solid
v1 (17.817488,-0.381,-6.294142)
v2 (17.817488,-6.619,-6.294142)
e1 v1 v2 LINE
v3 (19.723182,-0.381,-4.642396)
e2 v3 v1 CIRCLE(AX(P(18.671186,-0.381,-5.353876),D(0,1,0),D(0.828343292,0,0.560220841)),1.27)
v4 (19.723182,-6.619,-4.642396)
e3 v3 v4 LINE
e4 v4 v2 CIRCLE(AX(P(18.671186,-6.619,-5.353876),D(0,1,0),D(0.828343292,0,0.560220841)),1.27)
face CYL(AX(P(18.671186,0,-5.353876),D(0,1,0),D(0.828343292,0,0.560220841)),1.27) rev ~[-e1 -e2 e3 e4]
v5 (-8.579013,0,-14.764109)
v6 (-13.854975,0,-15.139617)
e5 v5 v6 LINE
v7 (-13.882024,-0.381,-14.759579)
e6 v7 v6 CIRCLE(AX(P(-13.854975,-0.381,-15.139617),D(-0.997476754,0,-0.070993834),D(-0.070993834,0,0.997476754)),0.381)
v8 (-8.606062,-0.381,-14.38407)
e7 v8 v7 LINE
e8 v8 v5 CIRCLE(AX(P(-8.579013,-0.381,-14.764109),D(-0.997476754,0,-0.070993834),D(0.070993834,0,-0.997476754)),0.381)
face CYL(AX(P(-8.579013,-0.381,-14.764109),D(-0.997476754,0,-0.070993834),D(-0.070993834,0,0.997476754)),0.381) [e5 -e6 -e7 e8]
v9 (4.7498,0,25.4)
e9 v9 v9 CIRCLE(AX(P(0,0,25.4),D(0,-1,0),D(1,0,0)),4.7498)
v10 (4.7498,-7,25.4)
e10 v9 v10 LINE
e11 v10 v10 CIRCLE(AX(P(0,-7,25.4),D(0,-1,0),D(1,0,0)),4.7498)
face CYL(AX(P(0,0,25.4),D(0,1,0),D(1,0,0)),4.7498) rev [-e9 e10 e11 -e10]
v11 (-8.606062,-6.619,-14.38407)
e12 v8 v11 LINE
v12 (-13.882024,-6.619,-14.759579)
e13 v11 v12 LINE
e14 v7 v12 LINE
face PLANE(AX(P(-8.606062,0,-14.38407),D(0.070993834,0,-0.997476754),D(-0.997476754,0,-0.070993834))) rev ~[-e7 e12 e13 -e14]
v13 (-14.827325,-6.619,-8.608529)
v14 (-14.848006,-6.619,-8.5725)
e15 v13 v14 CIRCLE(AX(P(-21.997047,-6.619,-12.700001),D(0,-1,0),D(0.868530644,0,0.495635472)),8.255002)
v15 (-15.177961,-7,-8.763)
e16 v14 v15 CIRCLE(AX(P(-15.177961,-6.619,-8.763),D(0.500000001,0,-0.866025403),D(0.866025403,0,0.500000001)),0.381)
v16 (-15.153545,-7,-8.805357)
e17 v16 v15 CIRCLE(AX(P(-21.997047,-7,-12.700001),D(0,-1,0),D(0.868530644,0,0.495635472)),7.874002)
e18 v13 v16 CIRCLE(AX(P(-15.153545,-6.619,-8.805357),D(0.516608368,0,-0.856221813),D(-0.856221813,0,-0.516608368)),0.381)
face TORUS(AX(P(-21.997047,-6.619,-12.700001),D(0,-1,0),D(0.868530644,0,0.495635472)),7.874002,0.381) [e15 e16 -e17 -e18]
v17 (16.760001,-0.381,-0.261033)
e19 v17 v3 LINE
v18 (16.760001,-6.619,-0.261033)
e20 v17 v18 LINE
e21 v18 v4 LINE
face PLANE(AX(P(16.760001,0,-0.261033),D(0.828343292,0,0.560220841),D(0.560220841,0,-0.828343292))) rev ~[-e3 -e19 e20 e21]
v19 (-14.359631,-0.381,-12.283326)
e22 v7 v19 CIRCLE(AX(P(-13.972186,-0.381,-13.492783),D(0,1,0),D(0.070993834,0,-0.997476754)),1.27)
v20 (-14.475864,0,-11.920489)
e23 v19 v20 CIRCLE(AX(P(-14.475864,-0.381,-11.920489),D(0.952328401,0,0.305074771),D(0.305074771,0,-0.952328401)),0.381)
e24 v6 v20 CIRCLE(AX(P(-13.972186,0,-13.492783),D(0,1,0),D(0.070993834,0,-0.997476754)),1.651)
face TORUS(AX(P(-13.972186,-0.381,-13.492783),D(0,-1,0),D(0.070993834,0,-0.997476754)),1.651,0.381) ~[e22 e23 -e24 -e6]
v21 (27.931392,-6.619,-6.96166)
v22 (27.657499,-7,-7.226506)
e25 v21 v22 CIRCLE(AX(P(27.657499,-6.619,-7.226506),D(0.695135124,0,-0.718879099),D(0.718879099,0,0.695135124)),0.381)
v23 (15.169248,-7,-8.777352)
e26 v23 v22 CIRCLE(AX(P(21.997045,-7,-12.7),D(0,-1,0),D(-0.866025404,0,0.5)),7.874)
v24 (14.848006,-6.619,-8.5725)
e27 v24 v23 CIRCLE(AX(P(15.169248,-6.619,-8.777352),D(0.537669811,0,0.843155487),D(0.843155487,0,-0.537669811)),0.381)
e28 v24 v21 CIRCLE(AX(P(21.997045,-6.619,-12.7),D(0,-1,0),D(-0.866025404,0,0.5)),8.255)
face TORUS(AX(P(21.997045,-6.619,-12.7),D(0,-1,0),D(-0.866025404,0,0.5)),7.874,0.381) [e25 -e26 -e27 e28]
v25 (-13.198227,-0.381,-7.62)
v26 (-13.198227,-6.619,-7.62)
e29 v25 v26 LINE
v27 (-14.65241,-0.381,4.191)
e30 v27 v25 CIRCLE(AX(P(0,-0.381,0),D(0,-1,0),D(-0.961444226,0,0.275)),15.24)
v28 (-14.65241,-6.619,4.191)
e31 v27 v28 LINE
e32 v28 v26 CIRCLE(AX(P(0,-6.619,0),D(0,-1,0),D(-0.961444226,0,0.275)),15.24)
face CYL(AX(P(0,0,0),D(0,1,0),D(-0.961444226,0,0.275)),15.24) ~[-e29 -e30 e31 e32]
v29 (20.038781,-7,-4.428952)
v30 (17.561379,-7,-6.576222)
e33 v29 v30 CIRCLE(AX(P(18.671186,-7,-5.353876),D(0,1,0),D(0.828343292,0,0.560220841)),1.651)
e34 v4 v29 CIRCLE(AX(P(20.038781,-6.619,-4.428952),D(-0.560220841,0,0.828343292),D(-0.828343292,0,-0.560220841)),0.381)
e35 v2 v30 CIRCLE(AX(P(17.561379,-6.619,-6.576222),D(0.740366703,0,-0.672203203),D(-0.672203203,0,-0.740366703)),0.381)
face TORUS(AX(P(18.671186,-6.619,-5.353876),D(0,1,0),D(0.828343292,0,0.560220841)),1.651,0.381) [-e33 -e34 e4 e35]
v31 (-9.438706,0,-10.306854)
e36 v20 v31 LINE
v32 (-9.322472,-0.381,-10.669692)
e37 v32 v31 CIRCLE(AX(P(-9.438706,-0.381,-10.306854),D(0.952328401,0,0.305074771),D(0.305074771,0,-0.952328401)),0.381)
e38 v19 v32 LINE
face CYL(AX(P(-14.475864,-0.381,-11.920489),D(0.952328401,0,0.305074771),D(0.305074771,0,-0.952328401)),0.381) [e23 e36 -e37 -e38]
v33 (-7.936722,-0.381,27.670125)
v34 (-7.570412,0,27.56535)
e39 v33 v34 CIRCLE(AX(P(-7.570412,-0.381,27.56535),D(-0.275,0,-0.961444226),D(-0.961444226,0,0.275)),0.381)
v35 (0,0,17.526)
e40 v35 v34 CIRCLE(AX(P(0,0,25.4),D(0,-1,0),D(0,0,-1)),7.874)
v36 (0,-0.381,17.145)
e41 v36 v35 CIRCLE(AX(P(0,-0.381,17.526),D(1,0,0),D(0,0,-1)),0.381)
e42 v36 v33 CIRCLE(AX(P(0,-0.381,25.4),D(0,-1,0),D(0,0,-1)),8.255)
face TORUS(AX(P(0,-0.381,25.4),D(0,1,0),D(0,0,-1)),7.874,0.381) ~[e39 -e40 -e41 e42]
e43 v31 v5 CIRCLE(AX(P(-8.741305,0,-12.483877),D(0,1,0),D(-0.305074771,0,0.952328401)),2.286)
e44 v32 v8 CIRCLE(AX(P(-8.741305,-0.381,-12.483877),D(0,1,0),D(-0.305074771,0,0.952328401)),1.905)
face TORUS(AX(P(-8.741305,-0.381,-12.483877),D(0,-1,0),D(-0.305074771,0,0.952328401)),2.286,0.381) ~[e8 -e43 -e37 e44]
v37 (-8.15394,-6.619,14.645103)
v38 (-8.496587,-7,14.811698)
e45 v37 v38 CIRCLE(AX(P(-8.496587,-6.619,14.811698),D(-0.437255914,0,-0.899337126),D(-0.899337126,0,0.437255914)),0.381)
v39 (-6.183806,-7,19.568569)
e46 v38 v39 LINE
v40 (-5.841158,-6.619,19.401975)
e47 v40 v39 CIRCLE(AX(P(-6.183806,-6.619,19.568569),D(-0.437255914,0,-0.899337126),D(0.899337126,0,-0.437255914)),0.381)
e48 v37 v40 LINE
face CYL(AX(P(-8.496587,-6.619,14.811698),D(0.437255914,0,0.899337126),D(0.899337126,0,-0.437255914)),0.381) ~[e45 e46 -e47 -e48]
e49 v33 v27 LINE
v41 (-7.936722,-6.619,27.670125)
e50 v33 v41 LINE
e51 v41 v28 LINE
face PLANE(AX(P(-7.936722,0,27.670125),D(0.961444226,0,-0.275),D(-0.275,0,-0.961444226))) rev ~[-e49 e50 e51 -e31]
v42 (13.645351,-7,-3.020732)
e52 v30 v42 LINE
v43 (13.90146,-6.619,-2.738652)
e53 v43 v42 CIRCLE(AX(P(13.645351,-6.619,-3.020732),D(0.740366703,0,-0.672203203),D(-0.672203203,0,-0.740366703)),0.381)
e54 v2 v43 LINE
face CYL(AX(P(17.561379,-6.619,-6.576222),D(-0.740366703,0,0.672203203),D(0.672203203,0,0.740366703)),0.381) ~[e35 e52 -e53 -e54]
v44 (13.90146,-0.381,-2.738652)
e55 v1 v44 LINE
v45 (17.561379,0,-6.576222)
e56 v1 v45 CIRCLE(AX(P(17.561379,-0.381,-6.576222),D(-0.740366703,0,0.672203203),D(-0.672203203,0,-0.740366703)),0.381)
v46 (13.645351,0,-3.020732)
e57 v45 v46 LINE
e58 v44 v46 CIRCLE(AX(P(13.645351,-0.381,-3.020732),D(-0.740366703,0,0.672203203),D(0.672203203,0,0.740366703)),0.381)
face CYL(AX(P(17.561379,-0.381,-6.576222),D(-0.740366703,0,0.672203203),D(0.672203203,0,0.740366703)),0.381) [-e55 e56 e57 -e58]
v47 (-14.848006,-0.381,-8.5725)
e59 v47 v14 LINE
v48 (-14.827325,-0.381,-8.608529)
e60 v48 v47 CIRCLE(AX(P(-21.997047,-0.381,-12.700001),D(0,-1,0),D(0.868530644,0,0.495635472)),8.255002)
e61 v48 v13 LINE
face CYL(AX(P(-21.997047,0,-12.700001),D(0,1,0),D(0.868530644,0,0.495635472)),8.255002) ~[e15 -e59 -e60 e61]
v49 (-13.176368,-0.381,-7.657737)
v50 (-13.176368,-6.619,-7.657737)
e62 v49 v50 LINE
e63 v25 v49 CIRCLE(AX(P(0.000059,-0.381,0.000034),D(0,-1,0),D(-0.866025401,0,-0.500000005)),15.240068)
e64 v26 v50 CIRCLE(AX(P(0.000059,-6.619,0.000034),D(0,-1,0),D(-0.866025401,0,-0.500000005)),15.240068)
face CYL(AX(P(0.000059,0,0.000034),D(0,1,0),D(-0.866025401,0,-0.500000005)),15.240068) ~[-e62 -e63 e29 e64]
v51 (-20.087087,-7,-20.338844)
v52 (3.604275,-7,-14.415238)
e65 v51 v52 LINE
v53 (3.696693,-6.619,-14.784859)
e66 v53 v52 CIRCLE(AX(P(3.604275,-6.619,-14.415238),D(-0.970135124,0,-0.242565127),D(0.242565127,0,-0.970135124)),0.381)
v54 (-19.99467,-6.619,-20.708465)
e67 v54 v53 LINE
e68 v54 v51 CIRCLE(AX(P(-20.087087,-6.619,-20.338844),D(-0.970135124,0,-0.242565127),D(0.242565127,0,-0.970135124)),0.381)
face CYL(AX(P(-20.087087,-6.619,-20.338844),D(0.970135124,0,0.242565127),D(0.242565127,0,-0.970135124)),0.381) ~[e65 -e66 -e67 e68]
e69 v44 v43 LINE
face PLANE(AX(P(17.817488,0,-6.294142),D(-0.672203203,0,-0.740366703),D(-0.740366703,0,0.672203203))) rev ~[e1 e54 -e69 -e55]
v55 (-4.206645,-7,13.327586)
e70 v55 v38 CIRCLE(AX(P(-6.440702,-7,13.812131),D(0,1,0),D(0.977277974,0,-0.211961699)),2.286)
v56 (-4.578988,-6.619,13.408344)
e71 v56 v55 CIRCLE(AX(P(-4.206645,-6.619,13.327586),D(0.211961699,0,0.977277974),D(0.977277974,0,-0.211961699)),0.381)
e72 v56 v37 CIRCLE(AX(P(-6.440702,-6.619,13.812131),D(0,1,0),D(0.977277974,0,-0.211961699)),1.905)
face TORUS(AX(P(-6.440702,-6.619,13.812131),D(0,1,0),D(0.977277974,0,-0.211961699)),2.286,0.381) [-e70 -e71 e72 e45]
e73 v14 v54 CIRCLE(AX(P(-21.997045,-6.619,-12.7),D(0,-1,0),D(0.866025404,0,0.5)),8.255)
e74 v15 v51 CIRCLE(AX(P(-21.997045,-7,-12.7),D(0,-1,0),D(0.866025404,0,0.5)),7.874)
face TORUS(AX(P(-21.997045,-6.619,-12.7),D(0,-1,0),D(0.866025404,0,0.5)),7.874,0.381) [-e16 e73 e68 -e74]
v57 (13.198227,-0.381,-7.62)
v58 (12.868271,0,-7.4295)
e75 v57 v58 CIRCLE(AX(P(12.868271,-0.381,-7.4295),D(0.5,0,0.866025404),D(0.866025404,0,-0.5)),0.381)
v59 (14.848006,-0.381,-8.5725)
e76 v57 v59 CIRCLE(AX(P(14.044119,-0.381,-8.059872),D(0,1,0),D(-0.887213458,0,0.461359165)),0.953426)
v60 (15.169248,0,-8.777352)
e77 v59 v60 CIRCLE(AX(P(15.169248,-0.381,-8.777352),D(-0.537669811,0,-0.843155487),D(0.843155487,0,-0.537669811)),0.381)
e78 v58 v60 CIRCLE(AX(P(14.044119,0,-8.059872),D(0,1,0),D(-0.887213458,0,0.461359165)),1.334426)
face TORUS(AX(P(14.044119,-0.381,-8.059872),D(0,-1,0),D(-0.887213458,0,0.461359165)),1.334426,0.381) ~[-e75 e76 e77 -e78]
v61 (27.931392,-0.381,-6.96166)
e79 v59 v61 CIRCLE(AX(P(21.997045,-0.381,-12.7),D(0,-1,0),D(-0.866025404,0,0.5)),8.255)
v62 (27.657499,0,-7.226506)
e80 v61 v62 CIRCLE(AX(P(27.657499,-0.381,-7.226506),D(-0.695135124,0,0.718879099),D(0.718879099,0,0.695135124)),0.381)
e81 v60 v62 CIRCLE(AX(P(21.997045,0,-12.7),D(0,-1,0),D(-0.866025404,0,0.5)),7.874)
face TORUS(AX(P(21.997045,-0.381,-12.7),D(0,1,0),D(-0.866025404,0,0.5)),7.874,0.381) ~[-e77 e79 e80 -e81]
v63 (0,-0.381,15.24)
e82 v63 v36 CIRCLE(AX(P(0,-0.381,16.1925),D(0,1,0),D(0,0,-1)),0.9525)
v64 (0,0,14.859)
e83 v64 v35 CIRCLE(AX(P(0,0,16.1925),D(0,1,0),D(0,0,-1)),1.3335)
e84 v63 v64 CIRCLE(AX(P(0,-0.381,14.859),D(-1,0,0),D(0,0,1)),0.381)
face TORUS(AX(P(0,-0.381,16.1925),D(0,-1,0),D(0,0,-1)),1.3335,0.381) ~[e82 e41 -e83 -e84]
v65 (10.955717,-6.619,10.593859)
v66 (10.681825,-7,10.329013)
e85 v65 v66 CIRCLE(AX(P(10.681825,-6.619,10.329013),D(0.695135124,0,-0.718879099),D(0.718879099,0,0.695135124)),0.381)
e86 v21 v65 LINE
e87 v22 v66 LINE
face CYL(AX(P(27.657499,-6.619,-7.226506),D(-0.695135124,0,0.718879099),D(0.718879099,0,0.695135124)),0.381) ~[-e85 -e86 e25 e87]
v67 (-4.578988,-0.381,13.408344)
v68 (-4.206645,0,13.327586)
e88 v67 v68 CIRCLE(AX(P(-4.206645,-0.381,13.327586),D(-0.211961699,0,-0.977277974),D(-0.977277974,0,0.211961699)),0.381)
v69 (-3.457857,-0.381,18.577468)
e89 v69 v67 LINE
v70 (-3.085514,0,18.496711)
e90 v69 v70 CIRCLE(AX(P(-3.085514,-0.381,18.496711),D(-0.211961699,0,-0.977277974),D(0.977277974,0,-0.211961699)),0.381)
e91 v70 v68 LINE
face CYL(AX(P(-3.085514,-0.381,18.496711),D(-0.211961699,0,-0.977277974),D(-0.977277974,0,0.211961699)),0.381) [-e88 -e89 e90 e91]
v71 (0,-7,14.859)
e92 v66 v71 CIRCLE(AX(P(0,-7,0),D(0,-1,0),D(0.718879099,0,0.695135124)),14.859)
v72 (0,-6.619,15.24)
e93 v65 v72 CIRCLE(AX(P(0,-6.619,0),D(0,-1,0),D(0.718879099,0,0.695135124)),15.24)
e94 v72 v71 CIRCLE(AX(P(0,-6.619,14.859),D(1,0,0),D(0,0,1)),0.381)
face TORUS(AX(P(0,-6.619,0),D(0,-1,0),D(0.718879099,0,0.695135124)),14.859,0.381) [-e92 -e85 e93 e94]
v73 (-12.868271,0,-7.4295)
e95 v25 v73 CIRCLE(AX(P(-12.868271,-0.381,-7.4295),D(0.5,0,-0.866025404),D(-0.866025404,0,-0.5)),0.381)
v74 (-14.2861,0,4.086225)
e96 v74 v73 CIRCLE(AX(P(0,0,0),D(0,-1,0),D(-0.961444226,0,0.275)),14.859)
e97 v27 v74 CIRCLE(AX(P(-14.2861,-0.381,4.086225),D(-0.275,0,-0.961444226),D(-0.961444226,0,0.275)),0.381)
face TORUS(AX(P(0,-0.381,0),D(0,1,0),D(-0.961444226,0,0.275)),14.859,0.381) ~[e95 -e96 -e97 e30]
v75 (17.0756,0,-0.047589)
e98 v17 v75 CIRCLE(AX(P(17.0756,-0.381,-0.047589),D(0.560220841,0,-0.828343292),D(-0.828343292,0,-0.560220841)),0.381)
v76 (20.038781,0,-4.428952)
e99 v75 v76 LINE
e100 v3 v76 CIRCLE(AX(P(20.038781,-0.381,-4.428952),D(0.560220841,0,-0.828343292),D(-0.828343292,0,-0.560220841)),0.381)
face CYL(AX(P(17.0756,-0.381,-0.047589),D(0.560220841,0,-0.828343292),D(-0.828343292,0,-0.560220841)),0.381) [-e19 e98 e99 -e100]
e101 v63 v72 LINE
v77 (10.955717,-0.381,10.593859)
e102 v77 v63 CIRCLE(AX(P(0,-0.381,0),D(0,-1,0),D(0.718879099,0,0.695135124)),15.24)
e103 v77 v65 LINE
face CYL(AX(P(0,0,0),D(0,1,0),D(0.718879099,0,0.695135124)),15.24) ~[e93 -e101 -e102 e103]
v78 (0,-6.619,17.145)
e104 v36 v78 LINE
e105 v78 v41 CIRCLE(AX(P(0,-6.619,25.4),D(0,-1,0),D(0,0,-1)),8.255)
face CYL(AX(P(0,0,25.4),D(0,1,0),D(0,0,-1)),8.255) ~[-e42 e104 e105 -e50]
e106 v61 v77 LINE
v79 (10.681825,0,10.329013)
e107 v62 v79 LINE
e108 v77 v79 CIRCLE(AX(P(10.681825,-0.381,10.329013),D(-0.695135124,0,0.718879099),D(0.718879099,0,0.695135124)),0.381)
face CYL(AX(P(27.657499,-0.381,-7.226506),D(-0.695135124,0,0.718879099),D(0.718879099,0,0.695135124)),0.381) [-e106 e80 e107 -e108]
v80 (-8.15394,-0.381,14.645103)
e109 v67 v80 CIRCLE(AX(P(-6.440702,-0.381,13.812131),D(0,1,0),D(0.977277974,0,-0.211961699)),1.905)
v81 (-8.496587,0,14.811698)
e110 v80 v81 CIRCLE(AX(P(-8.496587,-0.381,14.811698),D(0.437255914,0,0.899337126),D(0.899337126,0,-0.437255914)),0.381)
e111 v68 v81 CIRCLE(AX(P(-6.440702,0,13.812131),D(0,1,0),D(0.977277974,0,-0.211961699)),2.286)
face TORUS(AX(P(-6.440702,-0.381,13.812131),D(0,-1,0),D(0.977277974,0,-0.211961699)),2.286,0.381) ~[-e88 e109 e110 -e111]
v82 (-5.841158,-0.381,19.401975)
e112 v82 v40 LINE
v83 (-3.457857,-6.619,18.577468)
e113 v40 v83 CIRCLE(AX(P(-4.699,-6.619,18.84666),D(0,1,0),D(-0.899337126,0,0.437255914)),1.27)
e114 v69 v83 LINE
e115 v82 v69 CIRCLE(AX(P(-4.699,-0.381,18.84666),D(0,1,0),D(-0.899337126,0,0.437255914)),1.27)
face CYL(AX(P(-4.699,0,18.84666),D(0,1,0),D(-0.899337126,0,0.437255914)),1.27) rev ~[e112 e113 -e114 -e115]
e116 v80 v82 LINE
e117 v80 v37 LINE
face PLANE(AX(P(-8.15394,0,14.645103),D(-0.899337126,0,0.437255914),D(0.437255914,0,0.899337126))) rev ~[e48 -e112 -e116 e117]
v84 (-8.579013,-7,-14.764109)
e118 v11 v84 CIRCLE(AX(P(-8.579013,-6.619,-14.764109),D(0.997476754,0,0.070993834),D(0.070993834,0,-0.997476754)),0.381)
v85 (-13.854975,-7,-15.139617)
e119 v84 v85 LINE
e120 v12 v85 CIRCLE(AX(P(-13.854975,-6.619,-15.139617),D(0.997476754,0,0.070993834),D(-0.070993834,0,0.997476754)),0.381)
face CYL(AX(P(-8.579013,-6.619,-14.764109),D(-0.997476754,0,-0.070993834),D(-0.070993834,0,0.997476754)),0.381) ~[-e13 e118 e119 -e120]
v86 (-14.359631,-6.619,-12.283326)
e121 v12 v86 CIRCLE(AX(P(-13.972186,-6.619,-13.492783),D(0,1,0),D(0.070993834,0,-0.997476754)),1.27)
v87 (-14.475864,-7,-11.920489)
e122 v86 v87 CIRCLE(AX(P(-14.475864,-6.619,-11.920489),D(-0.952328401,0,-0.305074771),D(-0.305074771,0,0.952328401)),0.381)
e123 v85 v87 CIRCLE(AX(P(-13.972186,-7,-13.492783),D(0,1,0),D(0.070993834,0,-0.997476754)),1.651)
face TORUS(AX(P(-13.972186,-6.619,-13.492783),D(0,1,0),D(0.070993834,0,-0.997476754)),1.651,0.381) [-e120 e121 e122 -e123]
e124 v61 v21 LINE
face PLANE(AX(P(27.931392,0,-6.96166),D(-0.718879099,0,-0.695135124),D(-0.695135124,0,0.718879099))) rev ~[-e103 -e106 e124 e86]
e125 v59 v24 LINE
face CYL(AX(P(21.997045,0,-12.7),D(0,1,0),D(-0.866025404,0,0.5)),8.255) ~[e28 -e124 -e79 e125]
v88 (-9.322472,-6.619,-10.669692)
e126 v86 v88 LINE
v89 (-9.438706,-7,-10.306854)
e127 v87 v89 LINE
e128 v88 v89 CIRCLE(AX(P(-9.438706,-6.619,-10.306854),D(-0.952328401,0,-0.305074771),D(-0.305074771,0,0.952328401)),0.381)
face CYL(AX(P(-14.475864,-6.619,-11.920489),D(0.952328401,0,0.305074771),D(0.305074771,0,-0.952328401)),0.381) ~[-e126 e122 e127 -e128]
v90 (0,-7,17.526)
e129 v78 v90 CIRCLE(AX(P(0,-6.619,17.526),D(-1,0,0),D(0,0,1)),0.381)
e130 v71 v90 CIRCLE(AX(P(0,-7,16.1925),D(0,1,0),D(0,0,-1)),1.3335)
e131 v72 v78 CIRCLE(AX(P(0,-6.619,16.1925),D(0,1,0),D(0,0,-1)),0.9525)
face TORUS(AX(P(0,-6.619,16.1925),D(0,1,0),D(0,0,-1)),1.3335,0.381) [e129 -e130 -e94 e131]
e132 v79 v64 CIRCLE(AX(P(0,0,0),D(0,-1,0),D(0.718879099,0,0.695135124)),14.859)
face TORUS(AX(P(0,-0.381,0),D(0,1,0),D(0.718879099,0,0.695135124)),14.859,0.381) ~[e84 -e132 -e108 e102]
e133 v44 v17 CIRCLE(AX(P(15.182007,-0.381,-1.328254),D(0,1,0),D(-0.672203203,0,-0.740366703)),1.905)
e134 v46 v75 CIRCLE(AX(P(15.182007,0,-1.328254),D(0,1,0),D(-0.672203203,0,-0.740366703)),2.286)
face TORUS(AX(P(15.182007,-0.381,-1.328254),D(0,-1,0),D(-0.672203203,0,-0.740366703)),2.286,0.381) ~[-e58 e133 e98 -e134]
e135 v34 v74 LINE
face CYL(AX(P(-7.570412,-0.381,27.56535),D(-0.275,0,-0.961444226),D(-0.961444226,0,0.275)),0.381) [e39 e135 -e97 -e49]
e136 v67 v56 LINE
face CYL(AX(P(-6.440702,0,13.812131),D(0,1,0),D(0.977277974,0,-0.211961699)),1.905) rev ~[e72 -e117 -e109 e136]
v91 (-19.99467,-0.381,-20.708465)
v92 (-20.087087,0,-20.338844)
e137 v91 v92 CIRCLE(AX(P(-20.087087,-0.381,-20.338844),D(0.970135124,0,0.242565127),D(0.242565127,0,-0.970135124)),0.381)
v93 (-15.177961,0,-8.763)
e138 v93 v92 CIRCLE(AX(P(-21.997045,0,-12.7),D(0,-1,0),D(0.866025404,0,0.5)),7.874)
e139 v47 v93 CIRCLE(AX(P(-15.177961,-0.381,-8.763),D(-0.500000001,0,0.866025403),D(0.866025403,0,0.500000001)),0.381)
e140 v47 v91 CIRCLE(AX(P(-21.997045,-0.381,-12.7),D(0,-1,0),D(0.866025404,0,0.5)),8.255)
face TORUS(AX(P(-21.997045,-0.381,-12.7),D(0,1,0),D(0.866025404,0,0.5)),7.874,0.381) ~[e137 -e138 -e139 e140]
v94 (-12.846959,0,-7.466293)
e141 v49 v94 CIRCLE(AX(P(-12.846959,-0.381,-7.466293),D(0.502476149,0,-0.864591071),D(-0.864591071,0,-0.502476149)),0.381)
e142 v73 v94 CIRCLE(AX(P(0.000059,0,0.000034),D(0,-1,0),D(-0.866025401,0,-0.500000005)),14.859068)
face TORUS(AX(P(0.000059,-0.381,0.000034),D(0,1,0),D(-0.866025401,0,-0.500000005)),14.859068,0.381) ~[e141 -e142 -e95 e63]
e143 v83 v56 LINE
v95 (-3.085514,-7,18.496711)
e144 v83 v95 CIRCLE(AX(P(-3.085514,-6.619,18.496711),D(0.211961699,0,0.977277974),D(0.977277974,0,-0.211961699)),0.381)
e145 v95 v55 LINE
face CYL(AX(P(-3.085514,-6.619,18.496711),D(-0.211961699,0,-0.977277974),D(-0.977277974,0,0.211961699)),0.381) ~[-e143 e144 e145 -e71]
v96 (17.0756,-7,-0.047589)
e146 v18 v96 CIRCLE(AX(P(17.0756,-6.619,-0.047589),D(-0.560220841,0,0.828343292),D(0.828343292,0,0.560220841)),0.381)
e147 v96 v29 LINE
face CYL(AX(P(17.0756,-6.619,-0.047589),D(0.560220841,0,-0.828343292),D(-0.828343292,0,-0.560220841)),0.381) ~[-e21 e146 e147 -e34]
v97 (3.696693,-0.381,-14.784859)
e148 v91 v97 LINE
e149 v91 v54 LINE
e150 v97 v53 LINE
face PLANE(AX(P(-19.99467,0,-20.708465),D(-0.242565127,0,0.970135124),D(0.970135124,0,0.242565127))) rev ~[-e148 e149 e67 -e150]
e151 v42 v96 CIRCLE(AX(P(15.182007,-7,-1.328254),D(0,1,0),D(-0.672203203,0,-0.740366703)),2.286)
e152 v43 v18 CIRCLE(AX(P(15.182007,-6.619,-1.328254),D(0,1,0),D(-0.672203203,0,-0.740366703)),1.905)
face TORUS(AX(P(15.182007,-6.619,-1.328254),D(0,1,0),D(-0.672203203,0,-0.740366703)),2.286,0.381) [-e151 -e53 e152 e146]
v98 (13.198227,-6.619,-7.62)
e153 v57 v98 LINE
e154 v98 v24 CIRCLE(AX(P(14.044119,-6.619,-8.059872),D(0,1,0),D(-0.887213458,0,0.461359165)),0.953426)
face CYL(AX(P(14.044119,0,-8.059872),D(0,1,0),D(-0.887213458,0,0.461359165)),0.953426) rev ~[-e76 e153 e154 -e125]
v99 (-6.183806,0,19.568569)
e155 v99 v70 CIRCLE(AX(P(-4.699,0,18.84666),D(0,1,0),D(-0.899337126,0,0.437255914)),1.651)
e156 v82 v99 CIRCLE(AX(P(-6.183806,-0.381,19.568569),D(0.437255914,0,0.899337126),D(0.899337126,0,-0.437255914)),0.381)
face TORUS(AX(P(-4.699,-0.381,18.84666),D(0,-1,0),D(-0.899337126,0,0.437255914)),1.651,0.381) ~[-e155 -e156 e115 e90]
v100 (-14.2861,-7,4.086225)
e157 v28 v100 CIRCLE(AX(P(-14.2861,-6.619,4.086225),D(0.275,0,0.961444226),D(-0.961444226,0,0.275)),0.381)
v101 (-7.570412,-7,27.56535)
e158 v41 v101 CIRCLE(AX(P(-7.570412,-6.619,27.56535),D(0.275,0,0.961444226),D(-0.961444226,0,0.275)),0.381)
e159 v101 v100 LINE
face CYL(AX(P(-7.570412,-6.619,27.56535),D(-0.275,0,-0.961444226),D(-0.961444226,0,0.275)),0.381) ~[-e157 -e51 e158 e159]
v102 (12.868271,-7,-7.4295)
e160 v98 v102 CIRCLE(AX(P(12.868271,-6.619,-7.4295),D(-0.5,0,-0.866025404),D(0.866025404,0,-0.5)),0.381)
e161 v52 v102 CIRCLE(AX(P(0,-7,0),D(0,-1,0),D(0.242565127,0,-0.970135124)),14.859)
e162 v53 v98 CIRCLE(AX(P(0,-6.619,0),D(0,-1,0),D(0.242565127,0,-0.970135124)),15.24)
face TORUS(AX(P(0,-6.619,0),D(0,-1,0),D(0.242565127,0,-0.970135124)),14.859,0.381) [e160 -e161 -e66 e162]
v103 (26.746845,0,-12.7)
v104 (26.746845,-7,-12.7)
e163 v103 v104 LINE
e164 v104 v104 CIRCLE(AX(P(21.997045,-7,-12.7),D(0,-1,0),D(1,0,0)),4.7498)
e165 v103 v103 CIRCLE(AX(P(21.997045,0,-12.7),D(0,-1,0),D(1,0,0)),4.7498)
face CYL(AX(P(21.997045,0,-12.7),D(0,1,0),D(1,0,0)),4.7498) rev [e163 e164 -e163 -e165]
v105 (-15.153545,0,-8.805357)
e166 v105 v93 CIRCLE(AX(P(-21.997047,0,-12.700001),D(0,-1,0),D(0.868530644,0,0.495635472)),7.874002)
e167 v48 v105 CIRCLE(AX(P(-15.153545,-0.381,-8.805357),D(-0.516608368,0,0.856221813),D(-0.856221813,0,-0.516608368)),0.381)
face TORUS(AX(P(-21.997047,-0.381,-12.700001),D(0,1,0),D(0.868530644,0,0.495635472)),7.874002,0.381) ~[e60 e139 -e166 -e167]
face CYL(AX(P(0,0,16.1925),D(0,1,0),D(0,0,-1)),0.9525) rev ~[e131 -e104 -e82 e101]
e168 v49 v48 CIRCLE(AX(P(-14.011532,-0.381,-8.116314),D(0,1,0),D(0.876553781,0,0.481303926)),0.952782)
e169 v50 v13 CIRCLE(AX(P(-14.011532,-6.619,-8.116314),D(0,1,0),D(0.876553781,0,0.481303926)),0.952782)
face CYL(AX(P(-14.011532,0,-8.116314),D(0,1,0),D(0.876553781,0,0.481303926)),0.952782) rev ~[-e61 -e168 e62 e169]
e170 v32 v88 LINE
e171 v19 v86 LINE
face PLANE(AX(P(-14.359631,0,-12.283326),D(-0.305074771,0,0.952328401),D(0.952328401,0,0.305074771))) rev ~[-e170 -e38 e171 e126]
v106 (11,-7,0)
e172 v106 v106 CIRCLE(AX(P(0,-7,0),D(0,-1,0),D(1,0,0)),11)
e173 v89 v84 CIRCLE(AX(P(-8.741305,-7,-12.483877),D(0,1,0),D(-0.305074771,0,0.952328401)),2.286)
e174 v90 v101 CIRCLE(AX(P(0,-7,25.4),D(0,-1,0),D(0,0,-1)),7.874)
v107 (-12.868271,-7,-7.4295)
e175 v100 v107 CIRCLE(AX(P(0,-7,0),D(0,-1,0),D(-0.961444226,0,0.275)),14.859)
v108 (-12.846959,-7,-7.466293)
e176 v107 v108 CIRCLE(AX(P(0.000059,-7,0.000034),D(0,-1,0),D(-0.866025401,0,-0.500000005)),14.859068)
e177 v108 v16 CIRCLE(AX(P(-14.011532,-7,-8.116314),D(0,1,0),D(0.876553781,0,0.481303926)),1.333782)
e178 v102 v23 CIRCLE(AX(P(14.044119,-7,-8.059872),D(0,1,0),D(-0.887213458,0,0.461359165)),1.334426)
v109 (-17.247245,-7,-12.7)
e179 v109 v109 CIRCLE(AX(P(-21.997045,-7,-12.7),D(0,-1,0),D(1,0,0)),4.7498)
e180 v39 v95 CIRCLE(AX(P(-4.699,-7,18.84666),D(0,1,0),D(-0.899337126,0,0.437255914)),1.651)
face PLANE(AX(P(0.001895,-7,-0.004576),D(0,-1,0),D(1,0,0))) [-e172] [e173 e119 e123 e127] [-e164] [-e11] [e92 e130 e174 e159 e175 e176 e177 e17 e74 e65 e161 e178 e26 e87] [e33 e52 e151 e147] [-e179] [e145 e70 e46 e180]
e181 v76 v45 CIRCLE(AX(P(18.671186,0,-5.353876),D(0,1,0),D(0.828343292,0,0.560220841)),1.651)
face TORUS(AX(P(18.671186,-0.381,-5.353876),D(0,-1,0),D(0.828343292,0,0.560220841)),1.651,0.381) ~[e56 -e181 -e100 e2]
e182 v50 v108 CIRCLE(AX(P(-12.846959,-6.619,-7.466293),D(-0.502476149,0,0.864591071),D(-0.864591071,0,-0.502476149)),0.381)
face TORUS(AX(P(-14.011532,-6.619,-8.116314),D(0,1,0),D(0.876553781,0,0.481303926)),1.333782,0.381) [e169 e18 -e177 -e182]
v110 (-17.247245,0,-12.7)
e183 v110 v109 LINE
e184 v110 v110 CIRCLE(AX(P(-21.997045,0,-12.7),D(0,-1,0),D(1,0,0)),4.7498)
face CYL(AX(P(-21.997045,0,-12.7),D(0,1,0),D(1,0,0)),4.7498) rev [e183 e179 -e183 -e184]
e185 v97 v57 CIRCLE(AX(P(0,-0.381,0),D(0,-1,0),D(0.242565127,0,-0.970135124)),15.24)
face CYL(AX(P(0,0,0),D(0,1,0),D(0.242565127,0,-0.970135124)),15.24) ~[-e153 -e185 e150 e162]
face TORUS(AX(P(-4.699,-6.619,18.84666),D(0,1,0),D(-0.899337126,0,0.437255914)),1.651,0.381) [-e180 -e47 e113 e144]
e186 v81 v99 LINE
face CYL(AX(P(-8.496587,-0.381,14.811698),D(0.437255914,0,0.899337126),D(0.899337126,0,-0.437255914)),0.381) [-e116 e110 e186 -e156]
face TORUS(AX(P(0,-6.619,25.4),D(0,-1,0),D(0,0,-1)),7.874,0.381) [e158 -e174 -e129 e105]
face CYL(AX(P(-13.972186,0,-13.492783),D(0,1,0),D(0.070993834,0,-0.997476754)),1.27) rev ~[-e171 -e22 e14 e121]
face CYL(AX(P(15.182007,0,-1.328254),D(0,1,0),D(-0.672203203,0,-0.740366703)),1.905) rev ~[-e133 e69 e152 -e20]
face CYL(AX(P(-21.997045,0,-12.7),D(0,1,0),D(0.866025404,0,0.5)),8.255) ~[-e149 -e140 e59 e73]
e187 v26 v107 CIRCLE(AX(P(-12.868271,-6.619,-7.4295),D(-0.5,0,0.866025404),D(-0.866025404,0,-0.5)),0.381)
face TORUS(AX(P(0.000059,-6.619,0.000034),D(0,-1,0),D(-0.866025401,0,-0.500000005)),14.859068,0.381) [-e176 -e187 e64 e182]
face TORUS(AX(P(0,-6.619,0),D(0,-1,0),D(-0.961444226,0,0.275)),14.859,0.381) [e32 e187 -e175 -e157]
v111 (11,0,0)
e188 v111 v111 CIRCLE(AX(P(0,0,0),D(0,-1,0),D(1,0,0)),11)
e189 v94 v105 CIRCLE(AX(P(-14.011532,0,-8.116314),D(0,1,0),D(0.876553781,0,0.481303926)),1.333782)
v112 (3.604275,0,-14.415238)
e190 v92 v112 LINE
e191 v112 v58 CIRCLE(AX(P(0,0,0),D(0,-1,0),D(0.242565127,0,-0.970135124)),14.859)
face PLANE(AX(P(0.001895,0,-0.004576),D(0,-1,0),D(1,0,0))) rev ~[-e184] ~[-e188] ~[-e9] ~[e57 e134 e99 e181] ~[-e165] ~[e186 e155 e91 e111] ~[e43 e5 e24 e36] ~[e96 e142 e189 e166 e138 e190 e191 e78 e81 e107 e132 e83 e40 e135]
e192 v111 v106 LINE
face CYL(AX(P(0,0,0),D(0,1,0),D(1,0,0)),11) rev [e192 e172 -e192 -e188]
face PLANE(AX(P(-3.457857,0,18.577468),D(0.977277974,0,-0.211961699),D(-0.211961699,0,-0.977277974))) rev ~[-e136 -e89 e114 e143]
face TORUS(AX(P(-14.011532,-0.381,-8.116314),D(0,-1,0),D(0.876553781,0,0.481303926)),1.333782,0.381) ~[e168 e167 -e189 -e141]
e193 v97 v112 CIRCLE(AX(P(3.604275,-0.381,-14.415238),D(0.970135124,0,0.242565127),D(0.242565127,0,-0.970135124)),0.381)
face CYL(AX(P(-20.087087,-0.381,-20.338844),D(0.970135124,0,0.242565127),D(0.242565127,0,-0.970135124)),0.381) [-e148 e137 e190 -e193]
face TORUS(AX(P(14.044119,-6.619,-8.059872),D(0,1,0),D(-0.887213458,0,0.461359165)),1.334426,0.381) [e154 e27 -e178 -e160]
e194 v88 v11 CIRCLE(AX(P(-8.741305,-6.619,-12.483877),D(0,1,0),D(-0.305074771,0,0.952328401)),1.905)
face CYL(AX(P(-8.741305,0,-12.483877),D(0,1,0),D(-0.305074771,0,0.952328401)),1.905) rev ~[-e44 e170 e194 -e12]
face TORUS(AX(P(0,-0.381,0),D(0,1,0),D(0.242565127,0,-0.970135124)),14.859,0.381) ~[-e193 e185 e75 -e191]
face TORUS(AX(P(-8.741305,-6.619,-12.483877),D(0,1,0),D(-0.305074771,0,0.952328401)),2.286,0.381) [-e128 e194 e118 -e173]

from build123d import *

# Parameters (mm, degrees)
F0_R     = 4.7498
F0_R_2   = 11
F1_DEPTH = 7
F2_R     = 0.381


with BuildPart() as f1:
    # F0 (on Front) → F1 (new body)
    with BuildSketch(Plane.XZ):
        with BuildLine():
            Line((-7.9367220869, 27.670125), (-14.6524100065, 4.191))
            ThreePointArc((-14.6524100065, 4.191), (-15.1257868492, -1.8623029271), (-13.1982271537, -7.62))
            ThreePointArc((-13.1982271537, -7.62), (-13.1870815727, -7.6387432167), (-13.1763678664, -7.657736601))
            ThreePointArc((-13.1763678664, -7.657736601), (-13.5360373276, -8.9419639618), (-14.827324783, -8.6085291962))
            ThreePointArc((-14.827324783, -8.6085291962), (-14.8378615547, -8.5906273256), (-14.8480055479, -8.5725))
            ThreePointArc((-14.8480055479, -8.5725), (-29.5968816167, -9.4770336191), (-19.9946701325, -20.70846545))
            Line((-19.9946701325, -20.70846545), (3.696692536, -14.7848592923))
            ThreePointArc((3.696692536, -14.7848592923), (9.175695069, -12.1681642001), (13.1982271537, -7.62))
            ThreePointArc((13.1982271537, -7.62), (14.5208322537, -7.2341807683), (14.8480055479, -8.5725))
            ThreePointArc((14.8480055479, -8.5725), (23.005792675, -20.8931345433), (27.9313922193, -6.96165955))
            Line((27.9313922193, -6.96165955), (10.9557174705, 10.5938592923))
            ThreePointArc((10.9557174705, 10.5938592923), (5.9500917802, 14.0304671272), (0, 15.24))
            ThreePointArc((0, 15.24), (-0.9525, 16.1925), (0, 17.145))
            ThreePointArc((0, 17.145), (6.5910889417, 30.3701681624), (-7.9367220869, 27.670125))
        make_face()
        with Locations((-21.9970452561, -12.7)):
            Circle(F0_R, mode=Mode.SUBTRACT)
        with BuildLine():
            Line((-8.6060616369, -14.3840703721), (-13.8820238271, -14.7595786538))
            ThreePointArc((-13.8820238271, -14.7595786538), (-15.2192028099, -13.7333015026), (-14.3596309556, -12.2833261061))
            Line((-14.3596309556, -12.2833261061), (-9.3224723296, -10.6696915506))
            ThreePointArc((-9.3224723296, -10.6696915506), (-6.870779669, -12.1230996647), (-8.6060616369, -14.3840703721))
        make_face(mode=Mode.SUBTRACT)
        Circle(F0_R_2, mode=Mode.SUBTRACT)
        with Locations((21.9970452561, -12.7)):
            Circle(F0_R, mode=Mode.SUBTRACT)
        with BuildLine():
            Line((16.7600011705, -0.261032818), (19.7231819769, -4.6423959633))
            ThreePointArc((19.7231819769, -4.6423959633), (19.502989384, -6.3135655074), (17.8174879287, -6.2941421434))
            Line((17.8174879287, -6.2941421434), (13.9014600981, -2.7386520882))
            ThreePointArc((13.9014600981, -2.7386520882), (13.9343021167, 0.1112800952), (16.7600011705, -0.261032818))
        make_face(mode=Mode.SUBTRACT)
        with BuildLine():
            ThreePointArc((-4.5789877686, 13.4083436388), (-7.0635224477, 12.0118195695), (-8.1539395336, 14.6451031901))
            Line((-8.1539395336, 14.6451031901), (-5.8411581498, 19.4019746171))
            ThreePointArc((-5.8411581498, 19.4019746171), (-4.2837865741, 20.04686701), (-3.4578569731, 18.5774682496))
            Line((-3.4578569731, 18.5774682496), (-4.5789877686, 13.4083436388))
        make_face(mode=Mode.SUBTRACT)
        with Locations((0, 25.4)):
            Circle(F0_R, mode=Mode.SUBTRACT)
        with BuildLine():
            ThreePointArc((-13.1763678664, -7.657736601), (-13.1870815727, -7.6387432167), (-13.1982271537, -7.62))
            ThreePointArc((-13.1982271537, -7.62), (-13.1873110083, -7.6388761195), (-13.1763678664, -7.657736601))
        make_face()
        with BuildLine():
            ThreePointArc((-14.8480055479, -8.5725), (-14.8378615547, -8.5906273256), (-14.827324783, -8.6085291962))
            ThreePointArc((-14.827324783, -8.6085291962), (-14.8376425011, -8.5905015888), (-14.8480055479, -8.5725))
        make_face()
    extrude(amount=F1_DEPTH)

    # F2
    f2_edges = [f1.edges().sort_by_distance(p)[0] for p in [
        (-15.123107, -7, -1.883943),
        (-11.294566, -7, 15.930562),
        (-7.063522, -7, 12.01182),
        (-4.018422, -7, 15.992906),
        (-6.997549, -7, 17.023539),
        (-4.283787, -7, 20.046867),
        (6.591089, -7, 30.370168),
        (-0.9525, -7, 16.1925),
        (5.950092, -7, 14.030467),
        (19.443555, -7, 1.8161),
        (14.520832, -7, -7.234181),
        (9.175695, -7, -12.168164),
        (13.934302, -7, 0.11128),
        (15.859474, -7, -4.516397),
        (18.241592, -7, -2.451714),
        (19.502989, -7, -6.313566),
        (-6.87078, -7, -12.1231),
        (-11.841052, -7, -11.476509),
        (-11.244043, -7, -14.571825),
        (-15.219203, -7, -13.733302),
        (-13.536037, -7, -8.941964),
        (-8.148989, -7, -17.746662),
        (6.591089, 0, 30.370168),
        (-11.294566, 0, 15.930562),
        (-15.123107, 0, -1.883943),
        (-13.536037, 0, -8.941964),
        (-29.588748, 0, -9.457921),
        (-8.148989, 0, -17.746662),
        (9.175695, 0, -12.168164),
        (14.520832, 0, -7.234181),
        (18.241592, 0, -2.451714),
        (13.934302, 0, 0.11128),
        (19.502989, 0, -6.313566),
        (-11.841052, 0, -11.476509),
        (-6.997549, 0, 17.023539),
    ]]
    fillet(f2_edges, radius=F2_R)


solid = f1.part
